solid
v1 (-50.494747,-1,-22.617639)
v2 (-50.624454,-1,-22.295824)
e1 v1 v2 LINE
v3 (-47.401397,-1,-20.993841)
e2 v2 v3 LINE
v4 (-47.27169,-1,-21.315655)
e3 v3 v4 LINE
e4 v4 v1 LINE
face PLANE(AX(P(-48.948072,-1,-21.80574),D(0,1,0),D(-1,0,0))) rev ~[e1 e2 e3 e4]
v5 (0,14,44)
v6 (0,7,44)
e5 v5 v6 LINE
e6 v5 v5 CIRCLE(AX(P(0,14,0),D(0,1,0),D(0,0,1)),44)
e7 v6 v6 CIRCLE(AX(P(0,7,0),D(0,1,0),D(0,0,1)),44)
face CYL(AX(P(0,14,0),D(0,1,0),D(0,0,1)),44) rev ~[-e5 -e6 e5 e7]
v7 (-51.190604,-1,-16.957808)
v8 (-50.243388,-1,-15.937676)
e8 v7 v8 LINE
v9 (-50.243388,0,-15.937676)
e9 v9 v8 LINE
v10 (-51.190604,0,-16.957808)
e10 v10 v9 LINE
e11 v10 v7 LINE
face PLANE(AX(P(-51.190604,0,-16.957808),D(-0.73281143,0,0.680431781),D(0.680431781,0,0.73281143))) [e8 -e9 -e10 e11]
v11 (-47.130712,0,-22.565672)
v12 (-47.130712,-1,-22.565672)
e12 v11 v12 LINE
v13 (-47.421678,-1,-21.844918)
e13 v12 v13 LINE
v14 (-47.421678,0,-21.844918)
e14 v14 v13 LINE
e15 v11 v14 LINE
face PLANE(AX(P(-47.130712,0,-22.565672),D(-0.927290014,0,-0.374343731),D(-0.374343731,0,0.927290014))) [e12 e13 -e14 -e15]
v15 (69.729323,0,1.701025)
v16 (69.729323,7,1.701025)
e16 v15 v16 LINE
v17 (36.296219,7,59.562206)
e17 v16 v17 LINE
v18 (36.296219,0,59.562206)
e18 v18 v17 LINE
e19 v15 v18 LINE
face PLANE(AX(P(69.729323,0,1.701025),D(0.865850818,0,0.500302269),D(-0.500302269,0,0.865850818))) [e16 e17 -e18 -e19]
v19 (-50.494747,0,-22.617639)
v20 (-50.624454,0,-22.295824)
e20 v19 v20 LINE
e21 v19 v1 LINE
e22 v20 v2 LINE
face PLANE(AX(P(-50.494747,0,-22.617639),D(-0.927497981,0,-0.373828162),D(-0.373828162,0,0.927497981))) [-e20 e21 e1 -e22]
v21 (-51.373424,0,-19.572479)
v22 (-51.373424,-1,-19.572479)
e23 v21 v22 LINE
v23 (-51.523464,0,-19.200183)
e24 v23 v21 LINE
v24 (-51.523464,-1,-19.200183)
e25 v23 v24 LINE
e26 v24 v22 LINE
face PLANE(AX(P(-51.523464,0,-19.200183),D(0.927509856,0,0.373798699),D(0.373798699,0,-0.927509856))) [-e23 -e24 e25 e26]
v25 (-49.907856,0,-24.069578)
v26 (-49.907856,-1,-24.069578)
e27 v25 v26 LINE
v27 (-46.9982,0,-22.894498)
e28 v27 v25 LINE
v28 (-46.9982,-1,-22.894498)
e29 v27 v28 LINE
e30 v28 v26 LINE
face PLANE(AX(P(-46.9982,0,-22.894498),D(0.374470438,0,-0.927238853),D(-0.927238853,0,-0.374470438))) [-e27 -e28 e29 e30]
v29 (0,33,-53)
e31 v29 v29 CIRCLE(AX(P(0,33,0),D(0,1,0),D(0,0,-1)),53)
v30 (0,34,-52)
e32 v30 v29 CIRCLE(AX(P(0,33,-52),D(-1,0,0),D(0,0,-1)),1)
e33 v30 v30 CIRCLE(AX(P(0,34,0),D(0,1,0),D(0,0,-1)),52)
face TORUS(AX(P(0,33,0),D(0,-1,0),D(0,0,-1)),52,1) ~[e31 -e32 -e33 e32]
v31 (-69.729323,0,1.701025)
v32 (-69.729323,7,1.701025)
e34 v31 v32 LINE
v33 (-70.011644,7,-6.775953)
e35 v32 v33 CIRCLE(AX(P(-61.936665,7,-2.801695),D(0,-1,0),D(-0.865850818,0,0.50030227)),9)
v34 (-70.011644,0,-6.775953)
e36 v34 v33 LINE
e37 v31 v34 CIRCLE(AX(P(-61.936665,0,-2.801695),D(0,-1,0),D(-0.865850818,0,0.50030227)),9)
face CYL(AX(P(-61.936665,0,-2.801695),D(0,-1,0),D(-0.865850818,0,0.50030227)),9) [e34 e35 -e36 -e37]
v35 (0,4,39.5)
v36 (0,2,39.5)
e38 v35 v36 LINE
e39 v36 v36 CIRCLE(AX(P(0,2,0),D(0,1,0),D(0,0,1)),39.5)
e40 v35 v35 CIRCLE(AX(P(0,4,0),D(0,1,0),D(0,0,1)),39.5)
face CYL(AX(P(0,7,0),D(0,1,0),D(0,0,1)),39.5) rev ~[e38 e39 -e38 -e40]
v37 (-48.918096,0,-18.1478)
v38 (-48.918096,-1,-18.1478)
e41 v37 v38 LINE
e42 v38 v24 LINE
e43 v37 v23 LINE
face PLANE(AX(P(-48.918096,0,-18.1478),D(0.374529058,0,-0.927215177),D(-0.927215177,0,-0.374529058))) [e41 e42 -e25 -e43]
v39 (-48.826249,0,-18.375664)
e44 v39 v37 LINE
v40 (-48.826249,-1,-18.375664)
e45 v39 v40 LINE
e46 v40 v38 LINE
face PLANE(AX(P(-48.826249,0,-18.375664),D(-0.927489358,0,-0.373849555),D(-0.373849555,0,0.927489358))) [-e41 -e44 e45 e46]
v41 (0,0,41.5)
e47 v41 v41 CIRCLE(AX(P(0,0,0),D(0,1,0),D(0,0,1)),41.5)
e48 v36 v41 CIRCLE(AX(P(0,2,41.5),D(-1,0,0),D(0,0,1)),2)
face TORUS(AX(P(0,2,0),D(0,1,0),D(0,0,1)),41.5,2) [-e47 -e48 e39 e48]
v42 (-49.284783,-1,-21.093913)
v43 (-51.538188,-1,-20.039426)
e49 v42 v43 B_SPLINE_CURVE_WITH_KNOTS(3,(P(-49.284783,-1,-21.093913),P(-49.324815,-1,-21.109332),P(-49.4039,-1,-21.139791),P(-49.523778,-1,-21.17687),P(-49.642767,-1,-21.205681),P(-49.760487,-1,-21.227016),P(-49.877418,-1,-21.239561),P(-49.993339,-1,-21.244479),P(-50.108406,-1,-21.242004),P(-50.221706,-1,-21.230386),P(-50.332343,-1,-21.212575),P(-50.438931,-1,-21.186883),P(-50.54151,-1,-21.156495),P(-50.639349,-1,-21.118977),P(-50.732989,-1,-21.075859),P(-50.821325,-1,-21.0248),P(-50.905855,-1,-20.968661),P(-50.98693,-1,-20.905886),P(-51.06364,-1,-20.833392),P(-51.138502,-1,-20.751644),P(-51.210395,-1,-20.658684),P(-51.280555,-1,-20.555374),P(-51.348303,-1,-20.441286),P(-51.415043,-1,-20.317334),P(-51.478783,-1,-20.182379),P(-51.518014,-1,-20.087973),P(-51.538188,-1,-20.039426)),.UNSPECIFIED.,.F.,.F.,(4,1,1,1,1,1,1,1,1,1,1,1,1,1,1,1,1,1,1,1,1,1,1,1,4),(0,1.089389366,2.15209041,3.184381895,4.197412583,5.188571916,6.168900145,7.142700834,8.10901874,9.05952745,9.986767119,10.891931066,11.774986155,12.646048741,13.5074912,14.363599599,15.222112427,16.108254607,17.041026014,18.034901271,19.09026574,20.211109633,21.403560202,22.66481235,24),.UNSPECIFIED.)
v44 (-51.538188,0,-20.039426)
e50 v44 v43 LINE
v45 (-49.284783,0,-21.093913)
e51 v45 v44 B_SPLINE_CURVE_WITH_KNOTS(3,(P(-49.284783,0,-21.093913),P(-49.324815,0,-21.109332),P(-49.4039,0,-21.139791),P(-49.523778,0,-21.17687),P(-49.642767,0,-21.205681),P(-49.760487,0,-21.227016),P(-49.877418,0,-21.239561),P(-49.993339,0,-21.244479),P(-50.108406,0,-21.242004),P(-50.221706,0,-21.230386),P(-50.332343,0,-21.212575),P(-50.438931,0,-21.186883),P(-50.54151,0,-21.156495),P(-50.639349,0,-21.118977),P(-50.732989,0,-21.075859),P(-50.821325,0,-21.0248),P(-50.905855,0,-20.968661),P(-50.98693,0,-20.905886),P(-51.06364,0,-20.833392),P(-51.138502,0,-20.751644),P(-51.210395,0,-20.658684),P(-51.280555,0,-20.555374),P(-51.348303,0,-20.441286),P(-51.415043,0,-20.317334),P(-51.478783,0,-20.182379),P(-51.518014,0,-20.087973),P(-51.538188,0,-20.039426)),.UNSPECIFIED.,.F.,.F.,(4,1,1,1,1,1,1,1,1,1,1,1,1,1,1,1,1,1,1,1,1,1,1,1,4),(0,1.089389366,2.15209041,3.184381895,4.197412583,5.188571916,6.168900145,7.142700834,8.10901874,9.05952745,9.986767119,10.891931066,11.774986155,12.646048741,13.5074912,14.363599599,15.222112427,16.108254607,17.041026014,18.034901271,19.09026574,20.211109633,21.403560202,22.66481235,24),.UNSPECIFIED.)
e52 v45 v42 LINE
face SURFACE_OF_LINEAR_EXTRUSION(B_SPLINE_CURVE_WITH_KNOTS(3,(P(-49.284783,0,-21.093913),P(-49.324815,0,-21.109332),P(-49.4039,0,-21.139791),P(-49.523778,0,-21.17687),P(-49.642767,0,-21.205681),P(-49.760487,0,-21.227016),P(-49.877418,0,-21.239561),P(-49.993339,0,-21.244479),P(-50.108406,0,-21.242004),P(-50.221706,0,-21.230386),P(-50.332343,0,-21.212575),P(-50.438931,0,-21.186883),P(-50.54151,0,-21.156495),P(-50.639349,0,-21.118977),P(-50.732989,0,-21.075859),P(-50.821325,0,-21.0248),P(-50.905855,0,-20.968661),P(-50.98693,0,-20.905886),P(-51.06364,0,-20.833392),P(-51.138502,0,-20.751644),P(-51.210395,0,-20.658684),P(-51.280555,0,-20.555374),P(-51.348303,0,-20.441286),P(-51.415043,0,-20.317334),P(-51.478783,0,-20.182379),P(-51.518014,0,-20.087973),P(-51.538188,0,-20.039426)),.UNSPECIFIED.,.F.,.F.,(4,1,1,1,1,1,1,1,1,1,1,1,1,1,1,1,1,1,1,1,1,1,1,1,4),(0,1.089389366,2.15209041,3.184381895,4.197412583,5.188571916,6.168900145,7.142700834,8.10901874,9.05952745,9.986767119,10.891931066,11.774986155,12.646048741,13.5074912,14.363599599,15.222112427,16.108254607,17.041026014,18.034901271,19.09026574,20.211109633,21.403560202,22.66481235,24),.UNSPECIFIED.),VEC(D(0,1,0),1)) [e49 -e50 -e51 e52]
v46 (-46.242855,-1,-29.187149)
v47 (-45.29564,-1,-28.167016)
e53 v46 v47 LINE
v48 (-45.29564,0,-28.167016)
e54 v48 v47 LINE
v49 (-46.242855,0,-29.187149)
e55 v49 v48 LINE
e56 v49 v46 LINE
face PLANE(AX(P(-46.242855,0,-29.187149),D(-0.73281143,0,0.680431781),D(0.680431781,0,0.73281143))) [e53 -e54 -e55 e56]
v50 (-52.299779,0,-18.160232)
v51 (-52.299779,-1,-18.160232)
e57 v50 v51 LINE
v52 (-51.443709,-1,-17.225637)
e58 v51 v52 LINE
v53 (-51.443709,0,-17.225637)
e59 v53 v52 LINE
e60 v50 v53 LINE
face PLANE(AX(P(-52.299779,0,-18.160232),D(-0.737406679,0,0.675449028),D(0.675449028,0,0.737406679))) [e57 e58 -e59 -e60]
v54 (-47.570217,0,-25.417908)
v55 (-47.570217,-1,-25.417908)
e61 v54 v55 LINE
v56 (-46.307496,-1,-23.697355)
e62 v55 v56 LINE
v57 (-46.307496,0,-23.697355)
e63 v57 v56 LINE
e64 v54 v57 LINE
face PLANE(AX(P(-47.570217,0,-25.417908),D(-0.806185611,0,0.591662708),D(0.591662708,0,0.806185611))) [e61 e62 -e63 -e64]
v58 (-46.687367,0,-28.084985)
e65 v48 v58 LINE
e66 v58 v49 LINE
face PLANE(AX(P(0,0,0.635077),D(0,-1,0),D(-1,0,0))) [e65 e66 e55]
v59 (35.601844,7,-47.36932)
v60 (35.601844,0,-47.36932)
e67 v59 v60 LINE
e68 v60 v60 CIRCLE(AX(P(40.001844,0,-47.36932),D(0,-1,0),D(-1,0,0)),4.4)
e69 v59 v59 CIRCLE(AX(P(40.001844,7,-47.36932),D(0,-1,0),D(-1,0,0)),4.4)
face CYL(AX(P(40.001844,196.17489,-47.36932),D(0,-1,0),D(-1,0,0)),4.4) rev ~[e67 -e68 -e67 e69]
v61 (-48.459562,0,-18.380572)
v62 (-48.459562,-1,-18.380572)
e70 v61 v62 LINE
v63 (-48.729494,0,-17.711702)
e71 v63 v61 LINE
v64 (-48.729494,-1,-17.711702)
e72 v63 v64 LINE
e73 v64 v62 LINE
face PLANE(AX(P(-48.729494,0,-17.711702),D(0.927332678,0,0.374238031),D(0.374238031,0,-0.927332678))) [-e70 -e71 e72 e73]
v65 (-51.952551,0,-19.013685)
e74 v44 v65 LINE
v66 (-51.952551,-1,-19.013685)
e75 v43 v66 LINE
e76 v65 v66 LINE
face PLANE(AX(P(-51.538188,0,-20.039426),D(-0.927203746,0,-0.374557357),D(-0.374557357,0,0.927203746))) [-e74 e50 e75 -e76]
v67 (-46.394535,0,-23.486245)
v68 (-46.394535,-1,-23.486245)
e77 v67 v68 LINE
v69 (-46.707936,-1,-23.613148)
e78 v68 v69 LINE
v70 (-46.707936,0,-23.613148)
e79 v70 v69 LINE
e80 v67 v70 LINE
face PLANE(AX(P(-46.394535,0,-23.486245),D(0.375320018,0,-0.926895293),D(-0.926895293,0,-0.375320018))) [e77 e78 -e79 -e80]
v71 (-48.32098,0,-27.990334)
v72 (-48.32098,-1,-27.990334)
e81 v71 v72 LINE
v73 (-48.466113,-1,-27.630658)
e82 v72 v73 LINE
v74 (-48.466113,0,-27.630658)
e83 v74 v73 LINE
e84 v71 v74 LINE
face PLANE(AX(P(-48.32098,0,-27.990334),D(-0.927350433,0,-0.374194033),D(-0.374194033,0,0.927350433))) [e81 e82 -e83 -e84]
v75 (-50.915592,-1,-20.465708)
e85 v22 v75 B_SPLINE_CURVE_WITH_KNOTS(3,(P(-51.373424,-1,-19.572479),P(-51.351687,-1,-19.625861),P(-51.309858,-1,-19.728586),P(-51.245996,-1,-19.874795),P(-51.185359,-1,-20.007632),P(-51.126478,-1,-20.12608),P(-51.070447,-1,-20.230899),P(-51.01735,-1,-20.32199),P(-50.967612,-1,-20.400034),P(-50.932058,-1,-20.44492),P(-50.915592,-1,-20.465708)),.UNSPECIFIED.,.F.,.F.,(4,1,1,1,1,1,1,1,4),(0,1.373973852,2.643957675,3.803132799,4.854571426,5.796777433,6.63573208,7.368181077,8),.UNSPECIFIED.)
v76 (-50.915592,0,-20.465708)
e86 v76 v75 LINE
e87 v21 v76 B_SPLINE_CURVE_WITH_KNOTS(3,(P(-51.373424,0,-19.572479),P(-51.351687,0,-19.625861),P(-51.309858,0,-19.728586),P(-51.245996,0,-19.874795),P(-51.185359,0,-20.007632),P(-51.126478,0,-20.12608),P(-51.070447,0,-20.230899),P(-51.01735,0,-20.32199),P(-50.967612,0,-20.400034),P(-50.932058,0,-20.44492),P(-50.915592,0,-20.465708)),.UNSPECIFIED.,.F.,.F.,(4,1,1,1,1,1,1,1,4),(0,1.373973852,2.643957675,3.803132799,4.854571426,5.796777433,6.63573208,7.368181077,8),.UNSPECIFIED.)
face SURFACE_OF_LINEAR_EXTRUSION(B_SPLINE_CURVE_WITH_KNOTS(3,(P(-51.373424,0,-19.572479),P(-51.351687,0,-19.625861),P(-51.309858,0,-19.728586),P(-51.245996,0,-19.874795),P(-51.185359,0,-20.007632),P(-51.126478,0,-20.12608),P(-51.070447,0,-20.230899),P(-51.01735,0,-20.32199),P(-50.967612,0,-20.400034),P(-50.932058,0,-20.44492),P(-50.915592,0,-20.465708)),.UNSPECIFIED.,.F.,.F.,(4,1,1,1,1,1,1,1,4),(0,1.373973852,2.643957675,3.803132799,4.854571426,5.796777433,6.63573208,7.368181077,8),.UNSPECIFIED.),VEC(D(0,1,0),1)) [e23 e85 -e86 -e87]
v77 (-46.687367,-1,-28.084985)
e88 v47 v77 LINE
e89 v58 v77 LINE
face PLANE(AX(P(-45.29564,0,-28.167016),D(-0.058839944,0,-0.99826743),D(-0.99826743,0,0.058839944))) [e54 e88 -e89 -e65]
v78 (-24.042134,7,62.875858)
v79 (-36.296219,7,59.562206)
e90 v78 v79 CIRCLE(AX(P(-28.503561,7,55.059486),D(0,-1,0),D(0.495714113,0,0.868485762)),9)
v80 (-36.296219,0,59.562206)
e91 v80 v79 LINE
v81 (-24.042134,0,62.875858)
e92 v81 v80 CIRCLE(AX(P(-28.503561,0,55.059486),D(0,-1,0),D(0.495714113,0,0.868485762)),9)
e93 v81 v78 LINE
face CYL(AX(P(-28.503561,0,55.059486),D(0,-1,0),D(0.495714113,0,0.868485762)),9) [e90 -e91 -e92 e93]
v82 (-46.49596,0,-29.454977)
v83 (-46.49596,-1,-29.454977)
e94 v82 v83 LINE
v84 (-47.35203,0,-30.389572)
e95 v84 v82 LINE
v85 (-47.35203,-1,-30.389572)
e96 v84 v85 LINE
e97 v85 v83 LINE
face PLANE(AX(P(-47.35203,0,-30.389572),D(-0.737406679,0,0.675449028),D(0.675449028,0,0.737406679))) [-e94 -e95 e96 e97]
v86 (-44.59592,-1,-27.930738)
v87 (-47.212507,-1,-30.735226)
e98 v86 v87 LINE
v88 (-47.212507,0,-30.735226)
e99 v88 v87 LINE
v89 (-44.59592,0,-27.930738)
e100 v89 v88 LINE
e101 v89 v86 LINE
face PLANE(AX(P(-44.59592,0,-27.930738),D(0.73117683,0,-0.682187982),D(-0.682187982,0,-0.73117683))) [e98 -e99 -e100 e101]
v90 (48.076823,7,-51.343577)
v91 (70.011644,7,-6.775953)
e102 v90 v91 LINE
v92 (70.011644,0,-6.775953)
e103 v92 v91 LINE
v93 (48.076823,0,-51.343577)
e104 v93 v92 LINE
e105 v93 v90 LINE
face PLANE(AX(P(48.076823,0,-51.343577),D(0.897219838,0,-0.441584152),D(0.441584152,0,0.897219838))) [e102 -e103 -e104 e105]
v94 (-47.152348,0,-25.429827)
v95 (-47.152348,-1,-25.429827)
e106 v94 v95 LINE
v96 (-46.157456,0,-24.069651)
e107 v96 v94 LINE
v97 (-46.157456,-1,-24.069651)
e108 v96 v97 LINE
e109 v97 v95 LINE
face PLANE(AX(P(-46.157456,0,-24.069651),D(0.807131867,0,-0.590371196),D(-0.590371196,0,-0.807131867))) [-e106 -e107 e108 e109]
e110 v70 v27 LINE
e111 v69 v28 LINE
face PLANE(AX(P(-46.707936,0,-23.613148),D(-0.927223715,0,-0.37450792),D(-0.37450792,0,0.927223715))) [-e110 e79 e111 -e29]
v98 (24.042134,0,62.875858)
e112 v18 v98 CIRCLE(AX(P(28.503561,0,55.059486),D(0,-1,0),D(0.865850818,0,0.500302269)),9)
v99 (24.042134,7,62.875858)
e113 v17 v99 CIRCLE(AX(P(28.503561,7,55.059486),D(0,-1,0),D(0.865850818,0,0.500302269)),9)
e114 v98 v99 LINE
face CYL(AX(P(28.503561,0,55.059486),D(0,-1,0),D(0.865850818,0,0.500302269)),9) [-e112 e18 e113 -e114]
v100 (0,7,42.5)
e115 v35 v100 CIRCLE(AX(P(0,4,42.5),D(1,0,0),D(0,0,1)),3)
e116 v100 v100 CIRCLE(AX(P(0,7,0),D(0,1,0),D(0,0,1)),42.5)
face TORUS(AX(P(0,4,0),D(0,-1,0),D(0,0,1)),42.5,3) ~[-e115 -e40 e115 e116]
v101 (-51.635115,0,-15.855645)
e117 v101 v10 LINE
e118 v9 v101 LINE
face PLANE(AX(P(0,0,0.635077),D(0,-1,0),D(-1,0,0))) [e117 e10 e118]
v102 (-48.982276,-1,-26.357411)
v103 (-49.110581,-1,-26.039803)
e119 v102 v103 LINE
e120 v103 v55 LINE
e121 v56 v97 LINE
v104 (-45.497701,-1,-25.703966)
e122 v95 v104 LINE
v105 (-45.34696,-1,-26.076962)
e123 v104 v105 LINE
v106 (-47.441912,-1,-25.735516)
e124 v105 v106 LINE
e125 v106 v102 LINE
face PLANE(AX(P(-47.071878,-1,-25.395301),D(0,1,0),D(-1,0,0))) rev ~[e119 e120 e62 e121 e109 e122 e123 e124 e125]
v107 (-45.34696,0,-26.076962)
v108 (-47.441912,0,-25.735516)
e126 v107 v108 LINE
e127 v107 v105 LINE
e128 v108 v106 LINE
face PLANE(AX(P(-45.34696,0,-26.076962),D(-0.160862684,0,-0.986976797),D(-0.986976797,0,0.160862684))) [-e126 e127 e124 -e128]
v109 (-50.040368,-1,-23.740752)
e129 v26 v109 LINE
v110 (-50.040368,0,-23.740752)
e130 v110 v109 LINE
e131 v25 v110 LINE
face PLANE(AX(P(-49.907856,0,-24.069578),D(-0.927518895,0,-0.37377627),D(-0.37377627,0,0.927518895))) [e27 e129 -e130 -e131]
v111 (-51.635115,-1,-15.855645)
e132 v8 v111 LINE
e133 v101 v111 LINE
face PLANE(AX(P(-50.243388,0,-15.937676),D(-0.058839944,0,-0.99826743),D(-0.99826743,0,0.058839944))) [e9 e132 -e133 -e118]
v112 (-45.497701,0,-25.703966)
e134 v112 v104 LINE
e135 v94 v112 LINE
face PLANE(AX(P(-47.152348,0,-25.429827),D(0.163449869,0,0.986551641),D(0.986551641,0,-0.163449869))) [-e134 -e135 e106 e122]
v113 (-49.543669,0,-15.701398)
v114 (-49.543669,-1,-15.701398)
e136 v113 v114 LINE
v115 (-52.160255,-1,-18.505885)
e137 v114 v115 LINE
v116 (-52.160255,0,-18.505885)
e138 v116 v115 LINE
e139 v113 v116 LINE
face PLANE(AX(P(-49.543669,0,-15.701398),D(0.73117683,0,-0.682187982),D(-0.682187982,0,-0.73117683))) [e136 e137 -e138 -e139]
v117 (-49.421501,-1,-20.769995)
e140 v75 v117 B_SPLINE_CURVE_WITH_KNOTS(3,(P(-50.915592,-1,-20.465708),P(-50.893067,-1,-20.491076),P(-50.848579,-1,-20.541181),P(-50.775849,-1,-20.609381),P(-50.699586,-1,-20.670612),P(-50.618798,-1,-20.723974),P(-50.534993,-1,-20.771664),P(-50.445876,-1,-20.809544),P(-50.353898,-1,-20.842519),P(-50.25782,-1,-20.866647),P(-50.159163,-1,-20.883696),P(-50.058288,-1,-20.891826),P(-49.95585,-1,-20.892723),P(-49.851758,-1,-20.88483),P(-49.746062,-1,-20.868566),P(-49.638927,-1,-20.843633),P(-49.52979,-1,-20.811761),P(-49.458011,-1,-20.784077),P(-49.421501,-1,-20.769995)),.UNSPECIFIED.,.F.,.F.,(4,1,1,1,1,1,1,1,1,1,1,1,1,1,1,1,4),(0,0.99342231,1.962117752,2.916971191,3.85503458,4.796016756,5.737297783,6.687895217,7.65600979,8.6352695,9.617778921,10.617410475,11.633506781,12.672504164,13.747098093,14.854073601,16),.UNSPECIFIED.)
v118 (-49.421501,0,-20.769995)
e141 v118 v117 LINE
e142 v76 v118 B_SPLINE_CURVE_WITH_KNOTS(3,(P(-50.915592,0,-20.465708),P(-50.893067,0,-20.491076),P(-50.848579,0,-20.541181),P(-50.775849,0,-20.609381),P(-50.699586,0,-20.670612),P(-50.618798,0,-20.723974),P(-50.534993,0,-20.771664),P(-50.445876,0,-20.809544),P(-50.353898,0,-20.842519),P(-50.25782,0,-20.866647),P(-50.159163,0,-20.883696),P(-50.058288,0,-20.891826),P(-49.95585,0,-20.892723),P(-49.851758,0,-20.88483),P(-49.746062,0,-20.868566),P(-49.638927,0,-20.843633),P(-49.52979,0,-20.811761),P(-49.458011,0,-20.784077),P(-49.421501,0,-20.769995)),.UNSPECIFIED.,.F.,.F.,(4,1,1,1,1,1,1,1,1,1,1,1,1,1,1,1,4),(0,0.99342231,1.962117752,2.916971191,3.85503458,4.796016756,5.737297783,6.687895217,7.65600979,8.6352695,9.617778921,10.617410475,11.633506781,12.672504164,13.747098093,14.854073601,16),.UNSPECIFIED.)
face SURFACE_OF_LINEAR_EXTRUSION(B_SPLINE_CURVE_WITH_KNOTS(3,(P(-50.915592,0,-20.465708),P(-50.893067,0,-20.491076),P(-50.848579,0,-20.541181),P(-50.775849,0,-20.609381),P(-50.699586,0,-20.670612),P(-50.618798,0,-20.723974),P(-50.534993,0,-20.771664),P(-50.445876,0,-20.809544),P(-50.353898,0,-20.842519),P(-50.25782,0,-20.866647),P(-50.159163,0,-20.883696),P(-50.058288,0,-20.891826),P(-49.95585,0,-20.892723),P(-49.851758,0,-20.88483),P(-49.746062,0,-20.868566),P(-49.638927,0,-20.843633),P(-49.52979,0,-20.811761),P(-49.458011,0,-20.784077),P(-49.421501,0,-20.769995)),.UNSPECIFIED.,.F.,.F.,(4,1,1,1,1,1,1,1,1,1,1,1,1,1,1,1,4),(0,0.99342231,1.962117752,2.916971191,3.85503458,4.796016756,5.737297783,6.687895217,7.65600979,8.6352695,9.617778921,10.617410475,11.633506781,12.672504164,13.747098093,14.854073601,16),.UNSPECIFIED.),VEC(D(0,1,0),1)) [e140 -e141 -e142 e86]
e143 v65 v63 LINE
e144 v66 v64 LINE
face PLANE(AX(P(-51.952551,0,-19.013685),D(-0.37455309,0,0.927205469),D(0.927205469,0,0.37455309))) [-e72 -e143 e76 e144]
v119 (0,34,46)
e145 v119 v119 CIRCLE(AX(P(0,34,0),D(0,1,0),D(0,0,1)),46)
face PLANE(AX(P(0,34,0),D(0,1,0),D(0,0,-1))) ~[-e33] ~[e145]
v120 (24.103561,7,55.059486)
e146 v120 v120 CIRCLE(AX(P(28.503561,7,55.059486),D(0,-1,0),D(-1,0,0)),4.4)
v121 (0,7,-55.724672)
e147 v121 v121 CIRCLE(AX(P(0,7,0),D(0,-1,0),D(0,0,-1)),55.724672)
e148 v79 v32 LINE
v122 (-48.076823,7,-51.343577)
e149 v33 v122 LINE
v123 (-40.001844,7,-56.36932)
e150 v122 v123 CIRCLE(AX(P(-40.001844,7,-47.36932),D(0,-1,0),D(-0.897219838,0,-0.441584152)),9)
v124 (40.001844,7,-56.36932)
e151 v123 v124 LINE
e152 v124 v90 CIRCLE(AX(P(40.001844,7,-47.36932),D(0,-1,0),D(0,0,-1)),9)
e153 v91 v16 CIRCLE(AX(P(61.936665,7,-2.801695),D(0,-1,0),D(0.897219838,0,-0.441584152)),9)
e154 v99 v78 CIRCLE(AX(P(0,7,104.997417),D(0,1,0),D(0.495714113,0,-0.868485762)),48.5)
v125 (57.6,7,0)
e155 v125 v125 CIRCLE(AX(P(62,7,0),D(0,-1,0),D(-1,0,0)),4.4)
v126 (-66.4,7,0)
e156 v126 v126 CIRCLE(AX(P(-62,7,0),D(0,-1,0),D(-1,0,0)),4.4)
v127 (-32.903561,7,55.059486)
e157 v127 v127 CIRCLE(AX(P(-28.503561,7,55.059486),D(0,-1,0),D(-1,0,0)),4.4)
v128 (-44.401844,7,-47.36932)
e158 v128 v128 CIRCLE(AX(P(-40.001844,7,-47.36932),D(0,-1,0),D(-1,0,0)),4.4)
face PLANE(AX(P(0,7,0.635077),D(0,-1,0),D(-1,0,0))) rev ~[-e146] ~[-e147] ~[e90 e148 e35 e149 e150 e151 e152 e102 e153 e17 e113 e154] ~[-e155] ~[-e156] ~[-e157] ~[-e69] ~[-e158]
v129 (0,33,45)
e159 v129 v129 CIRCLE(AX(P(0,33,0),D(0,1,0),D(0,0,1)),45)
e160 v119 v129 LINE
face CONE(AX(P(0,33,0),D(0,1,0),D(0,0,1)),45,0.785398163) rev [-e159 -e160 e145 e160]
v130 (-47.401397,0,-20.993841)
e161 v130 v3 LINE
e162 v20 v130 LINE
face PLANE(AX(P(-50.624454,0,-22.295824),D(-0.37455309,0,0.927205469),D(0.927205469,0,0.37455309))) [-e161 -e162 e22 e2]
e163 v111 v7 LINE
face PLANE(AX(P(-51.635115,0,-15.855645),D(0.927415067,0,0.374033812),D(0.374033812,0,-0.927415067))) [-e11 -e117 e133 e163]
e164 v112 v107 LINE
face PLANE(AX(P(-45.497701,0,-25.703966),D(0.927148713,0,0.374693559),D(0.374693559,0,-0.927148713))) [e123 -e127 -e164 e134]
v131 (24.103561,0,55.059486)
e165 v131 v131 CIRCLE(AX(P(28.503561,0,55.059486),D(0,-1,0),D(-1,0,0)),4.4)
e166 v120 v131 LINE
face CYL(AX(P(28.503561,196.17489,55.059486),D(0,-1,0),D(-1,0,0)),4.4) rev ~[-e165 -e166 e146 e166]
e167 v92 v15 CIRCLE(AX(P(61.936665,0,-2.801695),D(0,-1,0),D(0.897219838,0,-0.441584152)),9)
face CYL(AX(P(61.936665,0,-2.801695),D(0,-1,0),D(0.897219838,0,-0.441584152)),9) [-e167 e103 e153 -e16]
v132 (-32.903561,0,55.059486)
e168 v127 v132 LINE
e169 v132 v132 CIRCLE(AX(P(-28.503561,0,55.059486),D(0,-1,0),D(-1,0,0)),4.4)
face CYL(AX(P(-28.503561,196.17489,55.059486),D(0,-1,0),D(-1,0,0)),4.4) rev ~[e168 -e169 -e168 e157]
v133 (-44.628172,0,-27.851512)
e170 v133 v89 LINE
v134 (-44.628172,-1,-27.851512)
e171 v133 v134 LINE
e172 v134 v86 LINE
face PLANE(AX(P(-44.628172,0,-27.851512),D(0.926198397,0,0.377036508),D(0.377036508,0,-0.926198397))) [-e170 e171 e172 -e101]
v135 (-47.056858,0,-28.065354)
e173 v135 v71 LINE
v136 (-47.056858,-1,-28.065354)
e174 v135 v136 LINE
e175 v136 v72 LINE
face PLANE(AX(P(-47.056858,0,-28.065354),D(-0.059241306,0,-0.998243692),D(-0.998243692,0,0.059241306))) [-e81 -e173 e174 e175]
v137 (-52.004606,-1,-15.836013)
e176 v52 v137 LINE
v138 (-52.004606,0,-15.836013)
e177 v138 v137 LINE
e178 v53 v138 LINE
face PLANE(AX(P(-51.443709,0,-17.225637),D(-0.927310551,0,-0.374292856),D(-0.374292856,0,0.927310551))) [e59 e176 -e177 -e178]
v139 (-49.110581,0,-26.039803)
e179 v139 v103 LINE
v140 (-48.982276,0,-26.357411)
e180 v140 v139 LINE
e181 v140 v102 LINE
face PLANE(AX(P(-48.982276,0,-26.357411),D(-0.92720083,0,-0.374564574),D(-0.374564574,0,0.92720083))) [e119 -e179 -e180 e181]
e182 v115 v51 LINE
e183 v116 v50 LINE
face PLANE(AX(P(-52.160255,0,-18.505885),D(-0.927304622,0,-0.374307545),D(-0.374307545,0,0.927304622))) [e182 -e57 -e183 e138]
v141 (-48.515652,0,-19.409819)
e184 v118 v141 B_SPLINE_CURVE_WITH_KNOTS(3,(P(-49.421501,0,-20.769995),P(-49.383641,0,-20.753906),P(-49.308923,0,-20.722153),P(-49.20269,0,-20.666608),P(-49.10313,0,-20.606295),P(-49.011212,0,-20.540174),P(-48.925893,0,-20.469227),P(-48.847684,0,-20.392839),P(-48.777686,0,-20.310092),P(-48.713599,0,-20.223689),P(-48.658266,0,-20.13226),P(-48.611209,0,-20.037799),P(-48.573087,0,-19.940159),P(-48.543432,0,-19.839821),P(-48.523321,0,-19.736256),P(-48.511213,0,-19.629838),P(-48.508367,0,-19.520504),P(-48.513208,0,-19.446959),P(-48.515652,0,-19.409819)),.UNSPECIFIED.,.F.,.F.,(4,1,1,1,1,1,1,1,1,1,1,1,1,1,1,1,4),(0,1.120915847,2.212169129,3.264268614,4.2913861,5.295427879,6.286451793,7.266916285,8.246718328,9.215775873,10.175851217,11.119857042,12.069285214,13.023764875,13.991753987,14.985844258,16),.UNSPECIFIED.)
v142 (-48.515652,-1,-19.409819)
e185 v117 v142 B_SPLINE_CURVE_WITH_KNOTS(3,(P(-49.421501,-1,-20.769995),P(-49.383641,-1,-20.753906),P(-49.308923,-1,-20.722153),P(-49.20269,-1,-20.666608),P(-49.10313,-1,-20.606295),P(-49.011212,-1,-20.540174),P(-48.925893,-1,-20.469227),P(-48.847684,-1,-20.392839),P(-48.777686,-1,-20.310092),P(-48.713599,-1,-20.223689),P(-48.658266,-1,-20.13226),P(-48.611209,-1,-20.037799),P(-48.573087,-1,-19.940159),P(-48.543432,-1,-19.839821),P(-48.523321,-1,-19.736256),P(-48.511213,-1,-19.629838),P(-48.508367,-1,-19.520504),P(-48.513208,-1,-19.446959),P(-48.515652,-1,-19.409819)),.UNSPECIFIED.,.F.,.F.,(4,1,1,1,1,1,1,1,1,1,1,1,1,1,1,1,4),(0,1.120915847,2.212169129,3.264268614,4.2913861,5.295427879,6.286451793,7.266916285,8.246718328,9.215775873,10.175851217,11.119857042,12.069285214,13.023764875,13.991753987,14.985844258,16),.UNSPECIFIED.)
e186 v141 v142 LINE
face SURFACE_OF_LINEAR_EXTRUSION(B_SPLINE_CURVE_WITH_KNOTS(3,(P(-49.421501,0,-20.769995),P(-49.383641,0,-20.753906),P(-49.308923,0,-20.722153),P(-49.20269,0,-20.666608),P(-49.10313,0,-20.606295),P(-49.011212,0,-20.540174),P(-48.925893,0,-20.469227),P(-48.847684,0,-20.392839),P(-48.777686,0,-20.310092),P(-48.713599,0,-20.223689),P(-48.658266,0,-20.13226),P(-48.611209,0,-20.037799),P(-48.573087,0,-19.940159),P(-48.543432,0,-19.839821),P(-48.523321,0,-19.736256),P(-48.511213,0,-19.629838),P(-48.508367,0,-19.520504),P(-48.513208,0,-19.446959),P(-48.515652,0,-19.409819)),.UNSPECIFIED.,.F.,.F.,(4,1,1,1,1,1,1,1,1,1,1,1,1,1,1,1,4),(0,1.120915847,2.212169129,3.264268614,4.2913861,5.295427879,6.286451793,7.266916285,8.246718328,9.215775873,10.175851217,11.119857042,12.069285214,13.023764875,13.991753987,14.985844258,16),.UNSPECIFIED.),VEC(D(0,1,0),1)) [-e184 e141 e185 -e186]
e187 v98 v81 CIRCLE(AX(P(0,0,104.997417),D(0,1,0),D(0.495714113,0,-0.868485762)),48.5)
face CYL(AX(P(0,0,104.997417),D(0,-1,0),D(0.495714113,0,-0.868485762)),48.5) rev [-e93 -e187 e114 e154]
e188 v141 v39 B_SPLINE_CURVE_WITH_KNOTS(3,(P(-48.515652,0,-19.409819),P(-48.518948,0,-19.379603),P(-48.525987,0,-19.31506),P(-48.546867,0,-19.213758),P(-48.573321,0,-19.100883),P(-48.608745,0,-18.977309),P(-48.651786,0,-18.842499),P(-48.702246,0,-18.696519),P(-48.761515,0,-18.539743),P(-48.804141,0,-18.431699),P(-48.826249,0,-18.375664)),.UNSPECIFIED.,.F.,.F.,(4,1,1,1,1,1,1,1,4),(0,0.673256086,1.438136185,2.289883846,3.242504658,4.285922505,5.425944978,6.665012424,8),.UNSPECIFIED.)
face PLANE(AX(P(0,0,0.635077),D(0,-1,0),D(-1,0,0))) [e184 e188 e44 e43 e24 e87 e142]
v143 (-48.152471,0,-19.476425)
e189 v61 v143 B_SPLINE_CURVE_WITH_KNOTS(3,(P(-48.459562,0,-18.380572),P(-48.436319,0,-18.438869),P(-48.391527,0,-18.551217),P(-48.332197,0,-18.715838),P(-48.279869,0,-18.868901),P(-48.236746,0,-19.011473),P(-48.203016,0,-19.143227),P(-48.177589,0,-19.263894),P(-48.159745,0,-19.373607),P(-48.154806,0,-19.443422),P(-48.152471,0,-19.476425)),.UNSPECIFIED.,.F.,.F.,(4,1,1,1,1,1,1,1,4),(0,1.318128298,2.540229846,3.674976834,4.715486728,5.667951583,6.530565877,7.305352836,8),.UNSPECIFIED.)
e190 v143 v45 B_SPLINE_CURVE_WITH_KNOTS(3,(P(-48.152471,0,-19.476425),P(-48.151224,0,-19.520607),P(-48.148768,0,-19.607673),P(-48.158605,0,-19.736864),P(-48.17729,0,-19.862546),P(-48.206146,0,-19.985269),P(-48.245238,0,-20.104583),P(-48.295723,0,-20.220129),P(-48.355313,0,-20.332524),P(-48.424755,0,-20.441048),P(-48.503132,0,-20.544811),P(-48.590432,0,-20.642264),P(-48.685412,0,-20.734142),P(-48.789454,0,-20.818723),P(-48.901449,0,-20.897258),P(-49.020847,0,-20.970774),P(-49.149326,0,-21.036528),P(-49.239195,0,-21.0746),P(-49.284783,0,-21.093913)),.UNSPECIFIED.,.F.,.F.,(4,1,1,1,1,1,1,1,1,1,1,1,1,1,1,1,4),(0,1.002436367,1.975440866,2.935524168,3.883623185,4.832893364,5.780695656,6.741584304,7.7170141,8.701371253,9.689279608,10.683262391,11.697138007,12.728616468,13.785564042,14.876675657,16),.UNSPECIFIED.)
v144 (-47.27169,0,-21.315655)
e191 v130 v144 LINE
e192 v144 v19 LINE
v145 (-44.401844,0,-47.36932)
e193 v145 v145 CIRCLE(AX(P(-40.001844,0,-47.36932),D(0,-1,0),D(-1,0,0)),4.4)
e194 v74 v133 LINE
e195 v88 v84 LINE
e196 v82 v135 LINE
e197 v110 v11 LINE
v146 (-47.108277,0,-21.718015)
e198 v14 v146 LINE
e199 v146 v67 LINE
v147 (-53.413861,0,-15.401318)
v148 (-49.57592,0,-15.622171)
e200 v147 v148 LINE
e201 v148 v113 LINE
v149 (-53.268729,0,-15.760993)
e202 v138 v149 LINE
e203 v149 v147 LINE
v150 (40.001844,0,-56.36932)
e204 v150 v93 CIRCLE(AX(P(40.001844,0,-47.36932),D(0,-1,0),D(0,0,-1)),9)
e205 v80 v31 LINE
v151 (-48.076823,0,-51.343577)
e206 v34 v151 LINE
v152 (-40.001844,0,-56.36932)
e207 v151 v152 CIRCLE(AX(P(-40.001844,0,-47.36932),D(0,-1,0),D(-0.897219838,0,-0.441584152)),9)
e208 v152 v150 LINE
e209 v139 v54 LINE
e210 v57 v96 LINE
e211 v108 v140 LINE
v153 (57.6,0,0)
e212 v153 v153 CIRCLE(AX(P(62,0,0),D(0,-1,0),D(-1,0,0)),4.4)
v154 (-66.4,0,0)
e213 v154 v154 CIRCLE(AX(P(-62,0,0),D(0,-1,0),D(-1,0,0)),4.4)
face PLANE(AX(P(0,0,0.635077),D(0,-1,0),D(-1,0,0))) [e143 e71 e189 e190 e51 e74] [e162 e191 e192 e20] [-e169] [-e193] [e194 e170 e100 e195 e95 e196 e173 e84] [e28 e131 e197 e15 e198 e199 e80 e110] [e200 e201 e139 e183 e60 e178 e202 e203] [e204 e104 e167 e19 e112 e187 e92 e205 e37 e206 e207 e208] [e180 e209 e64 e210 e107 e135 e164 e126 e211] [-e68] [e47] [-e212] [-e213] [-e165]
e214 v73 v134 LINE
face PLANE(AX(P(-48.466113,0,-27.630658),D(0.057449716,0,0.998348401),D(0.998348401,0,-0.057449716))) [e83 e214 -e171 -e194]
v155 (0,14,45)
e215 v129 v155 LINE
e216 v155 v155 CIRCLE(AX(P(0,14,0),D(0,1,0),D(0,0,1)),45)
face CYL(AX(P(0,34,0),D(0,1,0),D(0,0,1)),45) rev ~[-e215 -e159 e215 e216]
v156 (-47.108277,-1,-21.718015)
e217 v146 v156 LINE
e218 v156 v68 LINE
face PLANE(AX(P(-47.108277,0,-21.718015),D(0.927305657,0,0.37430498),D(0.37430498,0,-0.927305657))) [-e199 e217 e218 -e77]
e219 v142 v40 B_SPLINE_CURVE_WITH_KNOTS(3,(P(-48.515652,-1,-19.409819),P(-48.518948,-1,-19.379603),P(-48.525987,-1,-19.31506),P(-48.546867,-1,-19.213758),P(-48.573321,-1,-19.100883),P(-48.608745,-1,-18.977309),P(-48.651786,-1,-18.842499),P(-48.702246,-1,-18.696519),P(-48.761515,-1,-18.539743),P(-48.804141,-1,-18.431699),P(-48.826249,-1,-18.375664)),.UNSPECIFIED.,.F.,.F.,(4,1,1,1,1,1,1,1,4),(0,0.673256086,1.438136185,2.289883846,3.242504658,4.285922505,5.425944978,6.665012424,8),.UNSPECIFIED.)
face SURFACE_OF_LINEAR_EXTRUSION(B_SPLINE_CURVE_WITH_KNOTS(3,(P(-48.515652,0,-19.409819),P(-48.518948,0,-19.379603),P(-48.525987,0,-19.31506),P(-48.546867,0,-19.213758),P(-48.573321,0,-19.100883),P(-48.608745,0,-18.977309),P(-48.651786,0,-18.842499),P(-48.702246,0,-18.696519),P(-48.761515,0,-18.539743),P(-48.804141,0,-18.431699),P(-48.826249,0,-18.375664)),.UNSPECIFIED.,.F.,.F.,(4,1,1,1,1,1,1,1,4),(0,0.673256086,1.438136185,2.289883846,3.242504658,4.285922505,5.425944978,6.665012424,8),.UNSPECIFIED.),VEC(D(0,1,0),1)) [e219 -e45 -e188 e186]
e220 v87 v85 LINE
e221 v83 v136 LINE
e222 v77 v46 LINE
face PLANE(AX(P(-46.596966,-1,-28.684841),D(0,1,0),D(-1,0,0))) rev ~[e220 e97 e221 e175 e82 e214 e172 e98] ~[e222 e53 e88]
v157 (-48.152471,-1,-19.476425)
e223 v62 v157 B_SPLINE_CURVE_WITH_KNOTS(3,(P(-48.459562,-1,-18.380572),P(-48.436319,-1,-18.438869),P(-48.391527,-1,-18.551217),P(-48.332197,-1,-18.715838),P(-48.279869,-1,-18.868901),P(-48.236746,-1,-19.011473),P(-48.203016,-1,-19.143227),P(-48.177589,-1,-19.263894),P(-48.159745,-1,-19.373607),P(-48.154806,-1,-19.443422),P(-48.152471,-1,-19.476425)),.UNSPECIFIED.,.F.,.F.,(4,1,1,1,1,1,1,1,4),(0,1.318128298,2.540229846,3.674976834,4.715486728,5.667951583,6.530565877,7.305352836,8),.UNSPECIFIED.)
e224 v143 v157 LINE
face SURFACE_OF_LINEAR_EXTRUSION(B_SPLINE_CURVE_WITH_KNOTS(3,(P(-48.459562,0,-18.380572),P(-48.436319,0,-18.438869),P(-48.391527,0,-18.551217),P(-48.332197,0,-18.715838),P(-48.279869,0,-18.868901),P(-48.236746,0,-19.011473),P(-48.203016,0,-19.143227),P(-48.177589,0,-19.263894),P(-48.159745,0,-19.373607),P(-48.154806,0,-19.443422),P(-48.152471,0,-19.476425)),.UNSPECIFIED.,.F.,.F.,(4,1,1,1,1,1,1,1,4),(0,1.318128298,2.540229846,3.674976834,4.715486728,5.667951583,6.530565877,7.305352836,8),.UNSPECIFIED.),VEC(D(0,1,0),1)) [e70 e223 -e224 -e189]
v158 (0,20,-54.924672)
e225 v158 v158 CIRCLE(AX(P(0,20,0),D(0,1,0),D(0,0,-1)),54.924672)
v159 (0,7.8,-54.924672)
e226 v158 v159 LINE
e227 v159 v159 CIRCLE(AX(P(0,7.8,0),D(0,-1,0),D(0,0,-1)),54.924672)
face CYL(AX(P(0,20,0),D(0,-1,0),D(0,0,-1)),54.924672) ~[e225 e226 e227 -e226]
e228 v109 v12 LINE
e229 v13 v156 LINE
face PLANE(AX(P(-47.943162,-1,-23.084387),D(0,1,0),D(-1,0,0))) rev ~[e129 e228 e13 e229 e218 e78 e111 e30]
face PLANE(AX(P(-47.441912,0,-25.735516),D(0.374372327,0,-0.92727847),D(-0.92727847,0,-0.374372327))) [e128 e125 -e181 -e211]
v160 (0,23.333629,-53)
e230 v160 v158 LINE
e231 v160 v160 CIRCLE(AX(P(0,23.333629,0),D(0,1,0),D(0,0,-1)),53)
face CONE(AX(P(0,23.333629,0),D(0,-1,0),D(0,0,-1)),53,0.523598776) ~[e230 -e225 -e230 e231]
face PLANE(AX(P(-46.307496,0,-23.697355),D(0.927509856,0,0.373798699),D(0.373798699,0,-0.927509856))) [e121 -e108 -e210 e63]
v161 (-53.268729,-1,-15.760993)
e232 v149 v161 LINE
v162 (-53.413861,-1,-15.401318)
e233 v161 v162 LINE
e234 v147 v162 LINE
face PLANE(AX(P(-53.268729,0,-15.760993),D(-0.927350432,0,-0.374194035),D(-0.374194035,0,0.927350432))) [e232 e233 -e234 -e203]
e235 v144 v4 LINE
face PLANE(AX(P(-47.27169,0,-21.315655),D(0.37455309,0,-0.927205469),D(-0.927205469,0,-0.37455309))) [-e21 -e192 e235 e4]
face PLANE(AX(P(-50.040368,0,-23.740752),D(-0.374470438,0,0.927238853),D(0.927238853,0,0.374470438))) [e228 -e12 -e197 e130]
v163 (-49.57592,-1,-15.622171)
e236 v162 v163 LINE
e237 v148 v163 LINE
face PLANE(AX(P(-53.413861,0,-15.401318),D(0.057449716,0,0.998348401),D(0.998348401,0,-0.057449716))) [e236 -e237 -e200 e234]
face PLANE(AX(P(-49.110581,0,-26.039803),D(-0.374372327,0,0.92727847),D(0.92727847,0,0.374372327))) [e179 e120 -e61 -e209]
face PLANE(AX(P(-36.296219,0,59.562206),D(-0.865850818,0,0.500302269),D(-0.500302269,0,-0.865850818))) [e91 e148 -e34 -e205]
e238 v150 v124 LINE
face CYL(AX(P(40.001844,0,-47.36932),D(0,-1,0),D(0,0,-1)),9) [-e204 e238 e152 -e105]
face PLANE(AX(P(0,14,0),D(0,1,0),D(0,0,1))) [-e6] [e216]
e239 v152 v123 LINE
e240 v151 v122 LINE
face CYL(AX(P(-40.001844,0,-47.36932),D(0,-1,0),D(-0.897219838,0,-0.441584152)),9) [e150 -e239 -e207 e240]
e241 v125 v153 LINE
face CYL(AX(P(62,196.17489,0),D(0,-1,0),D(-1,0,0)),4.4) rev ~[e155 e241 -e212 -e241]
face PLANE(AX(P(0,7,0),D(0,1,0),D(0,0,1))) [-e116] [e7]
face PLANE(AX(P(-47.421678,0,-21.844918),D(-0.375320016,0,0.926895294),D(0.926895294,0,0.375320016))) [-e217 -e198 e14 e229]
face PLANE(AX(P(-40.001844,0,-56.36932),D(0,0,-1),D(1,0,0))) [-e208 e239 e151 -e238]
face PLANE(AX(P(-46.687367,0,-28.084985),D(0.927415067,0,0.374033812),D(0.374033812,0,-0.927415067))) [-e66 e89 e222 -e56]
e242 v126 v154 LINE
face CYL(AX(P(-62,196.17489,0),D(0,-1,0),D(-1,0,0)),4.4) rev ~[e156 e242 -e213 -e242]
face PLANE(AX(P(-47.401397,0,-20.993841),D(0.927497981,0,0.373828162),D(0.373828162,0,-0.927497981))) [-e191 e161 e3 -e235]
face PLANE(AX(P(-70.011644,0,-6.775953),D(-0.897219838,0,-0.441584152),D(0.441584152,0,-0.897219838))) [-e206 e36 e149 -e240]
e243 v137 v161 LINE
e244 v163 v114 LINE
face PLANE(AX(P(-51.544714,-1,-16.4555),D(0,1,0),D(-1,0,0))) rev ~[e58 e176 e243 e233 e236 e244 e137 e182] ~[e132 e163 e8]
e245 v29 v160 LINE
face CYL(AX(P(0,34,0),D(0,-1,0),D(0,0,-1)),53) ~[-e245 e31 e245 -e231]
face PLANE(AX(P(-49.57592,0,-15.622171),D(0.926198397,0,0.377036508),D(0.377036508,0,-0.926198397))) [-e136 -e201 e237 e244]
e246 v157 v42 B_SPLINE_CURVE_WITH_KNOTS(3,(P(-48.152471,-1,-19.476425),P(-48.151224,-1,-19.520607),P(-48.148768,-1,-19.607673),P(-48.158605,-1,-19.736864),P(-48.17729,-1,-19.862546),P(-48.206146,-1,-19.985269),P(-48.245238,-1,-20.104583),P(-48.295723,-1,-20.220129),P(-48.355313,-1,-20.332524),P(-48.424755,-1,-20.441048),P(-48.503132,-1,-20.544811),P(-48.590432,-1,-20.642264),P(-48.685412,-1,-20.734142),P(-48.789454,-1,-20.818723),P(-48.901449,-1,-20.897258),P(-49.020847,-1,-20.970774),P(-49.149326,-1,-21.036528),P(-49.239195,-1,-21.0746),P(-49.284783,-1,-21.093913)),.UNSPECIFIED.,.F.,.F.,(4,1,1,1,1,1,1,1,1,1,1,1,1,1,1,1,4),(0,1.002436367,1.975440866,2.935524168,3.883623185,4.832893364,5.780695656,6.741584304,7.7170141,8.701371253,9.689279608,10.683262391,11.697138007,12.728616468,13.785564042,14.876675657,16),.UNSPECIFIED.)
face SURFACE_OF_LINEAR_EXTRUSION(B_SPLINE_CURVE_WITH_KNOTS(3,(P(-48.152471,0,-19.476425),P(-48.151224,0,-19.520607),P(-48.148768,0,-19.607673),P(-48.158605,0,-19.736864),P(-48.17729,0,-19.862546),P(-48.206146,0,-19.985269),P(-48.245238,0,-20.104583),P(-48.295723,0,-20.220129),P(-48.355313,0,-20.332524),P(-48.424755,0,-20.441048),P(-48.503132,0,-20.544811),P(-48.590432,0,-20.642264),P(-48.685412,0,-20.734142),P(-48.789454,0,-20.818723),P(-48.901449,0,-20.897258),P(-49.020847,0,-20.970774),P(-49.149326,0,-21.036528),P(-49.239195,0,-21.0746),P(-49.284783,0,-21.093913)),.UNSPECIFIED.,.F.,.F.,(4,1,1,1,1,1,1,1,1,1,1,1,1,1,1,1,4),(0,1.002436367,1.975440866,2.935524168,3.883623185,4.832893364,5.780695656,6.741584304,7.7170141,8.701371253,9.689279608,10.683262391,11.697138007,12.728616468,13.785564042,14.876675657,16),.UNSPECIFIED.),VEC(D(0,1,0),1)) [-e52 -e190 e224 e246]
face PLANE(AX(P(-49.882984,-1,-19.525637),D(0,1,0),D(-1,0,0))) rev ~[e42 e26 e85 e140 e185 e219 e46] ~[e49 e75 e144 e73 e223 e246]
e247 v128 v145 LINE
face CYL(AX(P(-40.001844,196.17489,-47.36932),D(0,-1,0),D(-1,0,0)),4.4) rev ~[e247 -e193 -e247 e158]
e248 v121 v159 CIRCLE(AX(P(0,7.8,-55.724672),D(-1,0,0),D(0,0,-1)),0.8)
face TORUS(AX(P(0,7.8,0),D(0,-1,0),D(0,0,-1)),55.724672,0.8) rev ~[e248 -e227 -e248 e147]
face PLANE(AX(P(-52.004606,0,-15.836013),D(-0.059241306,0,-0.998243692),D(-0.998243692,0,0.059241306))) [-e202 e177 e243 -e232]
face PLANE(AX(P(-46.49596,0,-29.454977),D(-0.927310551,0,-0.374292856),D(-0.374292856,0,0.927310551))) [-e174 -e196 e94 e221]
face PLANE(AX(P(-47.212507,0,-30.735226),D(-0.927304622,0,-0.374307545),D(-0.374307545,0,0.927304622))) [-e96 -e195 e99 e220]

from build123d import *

# Parameters (mm, degrees)
BOSS_EXTRUDE1_DEPTH        = 7
SKETCH5_R                  = 45
CUT_EXTRUDE1_DEPTH         = 20
SKETCH6_R                  = 44
CUT_EXTRUDE3_DEPTH         = 7
SKETCH8_R                  = 39.5
CUT_EXTRUDE4_DEPTH         = 7
F_8_8_8_8_DIAMETER_HOLE1_D = 8.8
CHAMFER1_SIZE              = 1
FILLET1_R                  = 1
FILLET3_R                  = 2
FILLET4_R                  = 0.8
FILLET5_R                  = 3
BOSS_EXTRUDE2_DEPTH        = 1


with BuildPart() as part:
    # Sketch1 → Boss-Extrude1 (new body)
    with BuildSketch(Plane(origin=(0, 0, 0), x_dir=(1, 0, 0), z_dir=(0, 1, 0))):
        with BuildLine():
            Line((-40.001844064, 56.369319939), (40.001844064, 56.369319939))
            ThreePointArc((40.001844064, 56.369319939), (44.757455682, 55.010272637), (48.076822603, 51.343577304))
            Line((48.076822603, 51.343577304), (70.011643797, 6.775952684))
            ThreePointArc((70.011643797, 6.775952684), (70.931678065, 2.502121267), (69.729322621, -1.701025105))
            Line((69.729322621, -1.701025105), (36.296218849, -59.56220628))
            ThreePointArc((36.296218849, -59.56220628), (30.85289019, -63.747446182), (24.042134471, -62.875857711))
            ThreePointArc((24.042134471, -62.875857711), (0, -56.497417156), (-24.042134471, -62.875857711))
            ThreePointArc((-24.042134471, -62.875857711), (-30.85289019, -63.747446182), (-36.296218849, -59.56220628))
            Line((-36.296218849, -59.56220628), (-69.729322621, -1.701025105))
            ThreePointArc((-69.729322621, -1.701025105), (-70.931678065, 2.502121267), (-70.011643797, 6.775952684))
            Line((-70.011643797, 6.775952684), (-48.076822603, 51.343577304))
            ThreePointArc((-48.076822603, 51.343577304), (-44.757455682, 55.010272637), (-40.001844064, 56.369319939))
        make_face()
    extrude(amount=BOSS_EXTRUDE1_DEPTH)

    # Sketch4 → Revolve2 (revolve)
    with BuildSketch(Plane(origin=(0, 0, 0), x_dir=(0, 0, -1), z_dir=(1, 0, 0))):
        Polygon((0, 0), (0, 34), (53, 34), (53, 23.333628962), (54.924671579, 20), (54.924671579, 0), align=None)
    revolve(axis=Axis((0, 0, 0), (0, 1, 0)))

    # Sketch5 → Cut-Extrude1 (cut)
    with BuildSketch(Plane(origin=(0, 34, 0), x_dir=(1, 0, 0), z_dir=(0, 1, 0))):
        with Locations(Location((0, 0, 0), (0, 0, 270))):
            Circle(SKETCH5_R)
    extrude(amount=-CUT_EXTRUDE1_DEPTH, mode=Mode.SUBTRACT)

    # Sketch6 → Cut-Extrude3 (cut)
    with BuildSketch(Plane(origin=(0, 14, 0), x_dir=(1, 0, 0), z_dir=(0, 1, 0))):
        with Locations(Location((0, 0, 0), (0, 0, 270))):
            Circle(SKETCH6_R)
    extrude(amount=-CUT_EXTRUDE3_DEPTH, mode=Mode.SUBTRACT)

    # Sketch8 → Cut-Extrude4 (cut)
    with BuildSketch(Plane(origin=(0, 7, 0), x_dir=(1, 0, 0), z_dir=(0, 1, 0))):
        with Locations(Location((0, 0, 0), (0, 0, 270))):
            Circle(SKETCH8_R)
    extrude(amount=-CUT_EXTRUDE4_DEPTH, mode=Mode.SUBTRACT)

    # Ø8.8 (8.8) Diameter Hole1 (through all)
    with Locations(Plane(origin=(0, 7, 0), x_dir=(1, 0, 0), z_dir=(0, 1, 0))):
        with Locations((-62, 0), (62, 0), (28.503561486, -55.059485855), (-28.503561486, -55.059485855), (-40.001844064, 47.369319939), (40.001844064, 47.369319939)):
            Hole(F_8_8_8_8_DIAMETER_HOLE1_D / 2)

    # Chamfer1
    chamfer1_edges = [part.edges().sort_by_distance(p)[0] for p in [
        (0, 34, -45),
    ]]
    chamfer(chamfer1_edges, length=CHAMFER1_SIZE)

    # Fillet1
    fillet1_edges = [part.edges().sort_by_distance(p)[0] for p in [
        (0, 34, 53),
    ]]
    fillet(fillet1_edges, radius=FILLET1_R)

    # Fillet3
    fillet3_edges = [part.edges().sort_by_distance(p)[0] for p in [
        (0, 0, -39.5),
    ]]
    fillet(fillet3_edges, radius=FILLET3_R)

    # Fillet4
    fillet4_edges = [part.edges().sort_by_distance(p)[0] for p in [
        (0, 7, 54.924671579),
    ]]
    fillet(fillet4_edges, radius=FILLET4_R)

    # Fillet5
    fillet5_edges = [part.edges().sort_by_distance(p)[0] for p in [
        (0, 7, -39.5),
    ]]
    fillet(fillet5_edges, radius=FILLET5_R)

    # Sketch14 → Boss-Extrude2 (add)
    # profile 1 of 6: a face of its own
    with BuildSketch(Plane.XZ):
        Polygon((-49.543668777, -15.701397917), (-52.160255315, -18.505885097), (-52.299778552, -18.160232052), (-51.443708841, -17.225636699), (-52.004606277, -15.836013302), (-53.268728873, -15.76099327), (-53.413861085, -15.401317789), (-49.575920379, -15.622171154), align=None)
        Polygon((-50.243388328, -15.937675962), (-51.635115091, -15.855644712), (-51.190603873, -16.957808174), align=None, mode=Mode.SUBTRACT)
    # profile 2 of 6: a face of its own
    with BuildSketch(Plane.XZ):
        with BuildLine():
            Line((-51.952551008, -19.013684924), (-48.729494117, -17.711701751))
            Line((-48.729494117, -17.711701751), (-48.459562226, -18.380571943))
            add(Edge.make_bspline(
                [(-48.459562226, -18.380571943), (-48.436319484, -18.438869332), (-48.391527252, -18.551217098), (-48.332197088, -18.715837983), (-48.279869356, -18.868901378), (-48.236746224, -19.011472904), (-48.203016387, -19.143227311), (-48.177589166, -19.263893851), (-48.159744735, -19.37360661), (-48.15480571, -19.443421596), (-48.15247088, -19.476425309)],
                knots=[0, 0, 0, 0, 1.318128298, 2.540229846, 3.674976834, 4.715486728, 5.667951583, 6.530565877, 7.305352836, 8, 8, 8, 8], degree=3))
            add(Edge.make_bspline(
                [(-48.15247088, -19.476425309), (-48.151224452, -19.520606977), (-48.148768191, -19.607673125), (-48.158604762, -19.736863905), (-48.177290489, -19.862545907), (-48.20614634, -19.985268532), (-48.245237679, -20.104583309), (-48.295722785, -20.220129151), (-48.355312524, -20.33252403), (-48.42475478, -20.441047803), (-48.503132327, -20.544811018), (-48.590432451, -20.642263928), (-48.685411525, -20.734142298), (-48.78945408, -20.81872348), (-48.901448884, -20.897257962), (-49.020847396, -20.970773883), (-49.149325985, -21.036528429), (-49.239194617, -21.074600395), (-49.284782579, -21.093913289)],
                knots=[0, 0, 0, 0, 1.002436367, 1.975440866, 2.935524168, 3.883623185, 4.832893364, 5.780695656, 6.741584304, 7.7170141, 8.701371253, 9.689279608, 10.683262391, 11.697138007, 12.728616468, 13.785564042, 14.876675657, 16, 16, 16, 16], degree=3))
            add(Edge.make_bspline(
                [(-49.284782579, -21.093913289), (-49.324815131, -21.109331789), (-49.403899502, -21.139791059), (-49.523778301, -21.176870412), (-49.642767374, -21.205680865), (-49.760487205, -21.227015821), (-49.877418114, -21.239561485), (-49.993338957, -21.244479251), (-50.108405872, -21.242004451), (-50.221706432, -21.23038608), (-50.332343223, -21.212575154), (-50.438930962, -21.186883076), (-50.541509718, -21.156494998), (-50.639349049, -21.118977336), (-50.732988708, -21.075859162), (-50.821324957, -21.024799667), (-50.905855004, -20.968661326), (-50.986930076, -20.905886064), (-51.063640011, -20.833392499), (-51.138502103, -20.751644166), (-51.210394991, -20.658684386), (-51.280555312, -20.555374378), (-51.34830296, -20.441286466), (-51.415042693, -20.317333909), (-51.478782823, -20.182378875), (-51.518013915, -20.087973122), (-51.538188027, -20.03942611)],
                knots=[0, 0, 0, 0, 1.089389366, 2.15209041, 3.184381895, 4.197412583, 5.188571916, 6.168900145, 7.142700834, 8.10901874, 9.05952745, 9.986767119, 10.891931066, 11.774986155, 12.646048741, 13.5074912, 14.363599599, 15.222112427, 16.108254607, 17.041026014, 18.034901271, 19.09026574, 20.211109633, 21.403560202, 22.66481235, 24, 24, 24, 24], degree=3))
            Line((-51.538188027, -20.03942611), (-51.952551008, -19.013684924))
        make_face()
        with BuildLine():
            Line((-51.52346447, -19.200183321), (-51.373424406, -19.572478994))
            add(Edge.make_bspline(
                [(-51.373424406, -19.572478994), (-51.351687068, -19.625861431), (-51.309857596, -19.728586024), (-51.245995509, -19.874794681), (-51.185358504, -20.007631691), (-51.126477819, -20.126080253), (-51.070447188, -20.230898537), (-51.017349895, -20.321989806), (-50.967611746, -20.400034109), (-50.93205766, -20.444920434), (-50.915591873, -20.465708161)],
                knots=[0, 0, 0, 0, 1.373973852, 2.643957675, 3.803132799, 4.854571426, 5.796777433, 6.63573208, 7.368181077, 8, 8, 8, 8], degree=3))
            add(Edge.make_bspline(
                [(-50.915591873, -20.465708161), (-50.893067449, -20.491076278), (-50.848579246, -20.541181086), (-50.775849059, -20.609380616), (-50.699586198, -20.670612056), (-50.618798321, -20.723974157), (-50.534992901, -20.77166449), (-50.445875983, -20.809543603), (-50.353897644, -20.842519476), (-50.257820072, -20.866646744), (-50.159162967, -20.883695793), (-50.058287851, -20.891826428), (-49.955849846, -20.892723152), (-49.851758396, -20.884830378), (-49.746062391, -20.868565655), (-49.638926588, -20.843633305), (-49.529789733, -20.811760922), (-49.458011128, -20.784076534), (-49.421501329, -20.76999502)],
                knots=[0, 0, 0, 0, 0.99342231, 1.962117752, 2.916971191, 3.85503458, 4.796016756, 5.737297783, 6.687895217, 7.65600979, 8.6352695, 9.617778921, 10.617410475, 11.633506781, 12.672504164, 13.747098093, 14.854073601, 16, 16, 16, 16], degree=3))
            add(Edge.make_bspline(
                [(-49.421501329, -20.76999502), (-49.383641237, -20.753905877), (-49.308922936, -20.722153354), (-49.202690032, -20.666608393), (-49.103129906, -20.606294537), (-49.011211685, -20.540174357), (-48.925893295, -20.469227129), (-48.847683766, -20.392838655), (-48.777686199, -20.31009173), (-48.713598524, -20.223688802), (-48.658266213, -20.132259656), (-48.61120855, -20.037798765), (-48.573086878, -19.940158697), (-48.543431996, -19.83982122), (-48.523320599, -19.736256133), (-48.511213396, -19.629838407), (-48.508367186, -19.52050369), (-48.513207587, -19.446958665), (-48.51565197, -19.409818738)],
                knots=[0, 0, 0, 0, 1.120915847, 2.212169129, 3.264268614, 4.2913861, 5.295427879, 6.286451793, 7.266916285, 8.246718328, 9.215775873, 10.175851217, 11.119857042, 12.069285214, 13.023764875, 13.991753987, 14.985844258, 16, 16, 16, 16], degree=3))
            add(Edge.make_bspline(
                [(-48.51565197, -19.409818738), (-48.518947599, -19.379603205), (-48.525987362, -19.31506008), (-48.546867029, -19.213757546), (-48.573321082, -19.100883292), (-48.608745038, -18.97730872), (-48.651786281, -18.842498512), (-48.70224613, -18.6965188), (-48.761515015, -18.539743047), (-48.804141475, -18.431699133), (-48.826248925, -18.375664091)],
                knots=[0, 0, 0, 0, 0.673256086, 1.438136185, 2.289883846, 3.242504658, 4.285922505, 5.425944978, 6.665012424, 8, 8, 8, 8], degree=3))
            Line((-48.826248925, -18.375664091), (-48.91809588, -18.147799507))
            Line((-48.91809588, -18.147799507), (-51.52346447, -19.200183321))
        make_face(mode=Mode.SUBTRACT)
    # profile 3 of 6: a face of its own
    with BuildSketch(Plane.XZ):
        Polygon((-47.401397182, -20.99384052), (-47.27168965, -21.315655424), (-50.494746541, -22.617638597), (-50.624454073, -22.295823693), align=None)
    # profile 4 of 6: a face of its own
    with BuildSketch(Plane.XZ):
        Polygon((-47.421678037, -21.844918449), (-47.108276595, -21.718015405), (-46.394534607, -23.486244571), (-46.70793605, -23.613147616), (-46.998200473, -22.894497776), (-49.907855922, -24.069577905), (-50.040367941, -23.740751783), (-47.130712492, -22.565671655), align=None)
    # profile 5 of 6: a face of its own
    with BuildSketch(Plane.XZ):
        Polygon((-46.307496458, -23.697355073), (-46.157456394, -24.069650746), (-47.152348221, -25.429827028), (-45.497700785, -25.70396565), (-45.346959599, -26.076962445), (-47.441911522, -25.735516131), (-48.982276105, -26.357411163), (-49.110581394, -26.039802989), (-47.57021681, -25.417907957), align=None)
    # profile 6 of 6: a face of its own
    with BuildSketch(Plane.XZ):
        Polygon((-44.595920352, -27.930738364), (-47.21250689, -30.735225544), (-47.352030127, -30.389572499), (-46.495960416, -29.454977146), (-47.056857852, -28.065353749), (-48.320980448, -27.990333717), (-48.466112659, -27.630658236), (-44.628171954, -27.851511601), align=None)
        Polygon((-45.295639903, -28.167016409), (-46.687366666, -28.084985159), (-46.242855448, -29.187148621), align=None, mode=Mode.SUBTRACT)
    extrude(amount=BOSS_EXTRUDE2_DEPTH)


solid = part.part
